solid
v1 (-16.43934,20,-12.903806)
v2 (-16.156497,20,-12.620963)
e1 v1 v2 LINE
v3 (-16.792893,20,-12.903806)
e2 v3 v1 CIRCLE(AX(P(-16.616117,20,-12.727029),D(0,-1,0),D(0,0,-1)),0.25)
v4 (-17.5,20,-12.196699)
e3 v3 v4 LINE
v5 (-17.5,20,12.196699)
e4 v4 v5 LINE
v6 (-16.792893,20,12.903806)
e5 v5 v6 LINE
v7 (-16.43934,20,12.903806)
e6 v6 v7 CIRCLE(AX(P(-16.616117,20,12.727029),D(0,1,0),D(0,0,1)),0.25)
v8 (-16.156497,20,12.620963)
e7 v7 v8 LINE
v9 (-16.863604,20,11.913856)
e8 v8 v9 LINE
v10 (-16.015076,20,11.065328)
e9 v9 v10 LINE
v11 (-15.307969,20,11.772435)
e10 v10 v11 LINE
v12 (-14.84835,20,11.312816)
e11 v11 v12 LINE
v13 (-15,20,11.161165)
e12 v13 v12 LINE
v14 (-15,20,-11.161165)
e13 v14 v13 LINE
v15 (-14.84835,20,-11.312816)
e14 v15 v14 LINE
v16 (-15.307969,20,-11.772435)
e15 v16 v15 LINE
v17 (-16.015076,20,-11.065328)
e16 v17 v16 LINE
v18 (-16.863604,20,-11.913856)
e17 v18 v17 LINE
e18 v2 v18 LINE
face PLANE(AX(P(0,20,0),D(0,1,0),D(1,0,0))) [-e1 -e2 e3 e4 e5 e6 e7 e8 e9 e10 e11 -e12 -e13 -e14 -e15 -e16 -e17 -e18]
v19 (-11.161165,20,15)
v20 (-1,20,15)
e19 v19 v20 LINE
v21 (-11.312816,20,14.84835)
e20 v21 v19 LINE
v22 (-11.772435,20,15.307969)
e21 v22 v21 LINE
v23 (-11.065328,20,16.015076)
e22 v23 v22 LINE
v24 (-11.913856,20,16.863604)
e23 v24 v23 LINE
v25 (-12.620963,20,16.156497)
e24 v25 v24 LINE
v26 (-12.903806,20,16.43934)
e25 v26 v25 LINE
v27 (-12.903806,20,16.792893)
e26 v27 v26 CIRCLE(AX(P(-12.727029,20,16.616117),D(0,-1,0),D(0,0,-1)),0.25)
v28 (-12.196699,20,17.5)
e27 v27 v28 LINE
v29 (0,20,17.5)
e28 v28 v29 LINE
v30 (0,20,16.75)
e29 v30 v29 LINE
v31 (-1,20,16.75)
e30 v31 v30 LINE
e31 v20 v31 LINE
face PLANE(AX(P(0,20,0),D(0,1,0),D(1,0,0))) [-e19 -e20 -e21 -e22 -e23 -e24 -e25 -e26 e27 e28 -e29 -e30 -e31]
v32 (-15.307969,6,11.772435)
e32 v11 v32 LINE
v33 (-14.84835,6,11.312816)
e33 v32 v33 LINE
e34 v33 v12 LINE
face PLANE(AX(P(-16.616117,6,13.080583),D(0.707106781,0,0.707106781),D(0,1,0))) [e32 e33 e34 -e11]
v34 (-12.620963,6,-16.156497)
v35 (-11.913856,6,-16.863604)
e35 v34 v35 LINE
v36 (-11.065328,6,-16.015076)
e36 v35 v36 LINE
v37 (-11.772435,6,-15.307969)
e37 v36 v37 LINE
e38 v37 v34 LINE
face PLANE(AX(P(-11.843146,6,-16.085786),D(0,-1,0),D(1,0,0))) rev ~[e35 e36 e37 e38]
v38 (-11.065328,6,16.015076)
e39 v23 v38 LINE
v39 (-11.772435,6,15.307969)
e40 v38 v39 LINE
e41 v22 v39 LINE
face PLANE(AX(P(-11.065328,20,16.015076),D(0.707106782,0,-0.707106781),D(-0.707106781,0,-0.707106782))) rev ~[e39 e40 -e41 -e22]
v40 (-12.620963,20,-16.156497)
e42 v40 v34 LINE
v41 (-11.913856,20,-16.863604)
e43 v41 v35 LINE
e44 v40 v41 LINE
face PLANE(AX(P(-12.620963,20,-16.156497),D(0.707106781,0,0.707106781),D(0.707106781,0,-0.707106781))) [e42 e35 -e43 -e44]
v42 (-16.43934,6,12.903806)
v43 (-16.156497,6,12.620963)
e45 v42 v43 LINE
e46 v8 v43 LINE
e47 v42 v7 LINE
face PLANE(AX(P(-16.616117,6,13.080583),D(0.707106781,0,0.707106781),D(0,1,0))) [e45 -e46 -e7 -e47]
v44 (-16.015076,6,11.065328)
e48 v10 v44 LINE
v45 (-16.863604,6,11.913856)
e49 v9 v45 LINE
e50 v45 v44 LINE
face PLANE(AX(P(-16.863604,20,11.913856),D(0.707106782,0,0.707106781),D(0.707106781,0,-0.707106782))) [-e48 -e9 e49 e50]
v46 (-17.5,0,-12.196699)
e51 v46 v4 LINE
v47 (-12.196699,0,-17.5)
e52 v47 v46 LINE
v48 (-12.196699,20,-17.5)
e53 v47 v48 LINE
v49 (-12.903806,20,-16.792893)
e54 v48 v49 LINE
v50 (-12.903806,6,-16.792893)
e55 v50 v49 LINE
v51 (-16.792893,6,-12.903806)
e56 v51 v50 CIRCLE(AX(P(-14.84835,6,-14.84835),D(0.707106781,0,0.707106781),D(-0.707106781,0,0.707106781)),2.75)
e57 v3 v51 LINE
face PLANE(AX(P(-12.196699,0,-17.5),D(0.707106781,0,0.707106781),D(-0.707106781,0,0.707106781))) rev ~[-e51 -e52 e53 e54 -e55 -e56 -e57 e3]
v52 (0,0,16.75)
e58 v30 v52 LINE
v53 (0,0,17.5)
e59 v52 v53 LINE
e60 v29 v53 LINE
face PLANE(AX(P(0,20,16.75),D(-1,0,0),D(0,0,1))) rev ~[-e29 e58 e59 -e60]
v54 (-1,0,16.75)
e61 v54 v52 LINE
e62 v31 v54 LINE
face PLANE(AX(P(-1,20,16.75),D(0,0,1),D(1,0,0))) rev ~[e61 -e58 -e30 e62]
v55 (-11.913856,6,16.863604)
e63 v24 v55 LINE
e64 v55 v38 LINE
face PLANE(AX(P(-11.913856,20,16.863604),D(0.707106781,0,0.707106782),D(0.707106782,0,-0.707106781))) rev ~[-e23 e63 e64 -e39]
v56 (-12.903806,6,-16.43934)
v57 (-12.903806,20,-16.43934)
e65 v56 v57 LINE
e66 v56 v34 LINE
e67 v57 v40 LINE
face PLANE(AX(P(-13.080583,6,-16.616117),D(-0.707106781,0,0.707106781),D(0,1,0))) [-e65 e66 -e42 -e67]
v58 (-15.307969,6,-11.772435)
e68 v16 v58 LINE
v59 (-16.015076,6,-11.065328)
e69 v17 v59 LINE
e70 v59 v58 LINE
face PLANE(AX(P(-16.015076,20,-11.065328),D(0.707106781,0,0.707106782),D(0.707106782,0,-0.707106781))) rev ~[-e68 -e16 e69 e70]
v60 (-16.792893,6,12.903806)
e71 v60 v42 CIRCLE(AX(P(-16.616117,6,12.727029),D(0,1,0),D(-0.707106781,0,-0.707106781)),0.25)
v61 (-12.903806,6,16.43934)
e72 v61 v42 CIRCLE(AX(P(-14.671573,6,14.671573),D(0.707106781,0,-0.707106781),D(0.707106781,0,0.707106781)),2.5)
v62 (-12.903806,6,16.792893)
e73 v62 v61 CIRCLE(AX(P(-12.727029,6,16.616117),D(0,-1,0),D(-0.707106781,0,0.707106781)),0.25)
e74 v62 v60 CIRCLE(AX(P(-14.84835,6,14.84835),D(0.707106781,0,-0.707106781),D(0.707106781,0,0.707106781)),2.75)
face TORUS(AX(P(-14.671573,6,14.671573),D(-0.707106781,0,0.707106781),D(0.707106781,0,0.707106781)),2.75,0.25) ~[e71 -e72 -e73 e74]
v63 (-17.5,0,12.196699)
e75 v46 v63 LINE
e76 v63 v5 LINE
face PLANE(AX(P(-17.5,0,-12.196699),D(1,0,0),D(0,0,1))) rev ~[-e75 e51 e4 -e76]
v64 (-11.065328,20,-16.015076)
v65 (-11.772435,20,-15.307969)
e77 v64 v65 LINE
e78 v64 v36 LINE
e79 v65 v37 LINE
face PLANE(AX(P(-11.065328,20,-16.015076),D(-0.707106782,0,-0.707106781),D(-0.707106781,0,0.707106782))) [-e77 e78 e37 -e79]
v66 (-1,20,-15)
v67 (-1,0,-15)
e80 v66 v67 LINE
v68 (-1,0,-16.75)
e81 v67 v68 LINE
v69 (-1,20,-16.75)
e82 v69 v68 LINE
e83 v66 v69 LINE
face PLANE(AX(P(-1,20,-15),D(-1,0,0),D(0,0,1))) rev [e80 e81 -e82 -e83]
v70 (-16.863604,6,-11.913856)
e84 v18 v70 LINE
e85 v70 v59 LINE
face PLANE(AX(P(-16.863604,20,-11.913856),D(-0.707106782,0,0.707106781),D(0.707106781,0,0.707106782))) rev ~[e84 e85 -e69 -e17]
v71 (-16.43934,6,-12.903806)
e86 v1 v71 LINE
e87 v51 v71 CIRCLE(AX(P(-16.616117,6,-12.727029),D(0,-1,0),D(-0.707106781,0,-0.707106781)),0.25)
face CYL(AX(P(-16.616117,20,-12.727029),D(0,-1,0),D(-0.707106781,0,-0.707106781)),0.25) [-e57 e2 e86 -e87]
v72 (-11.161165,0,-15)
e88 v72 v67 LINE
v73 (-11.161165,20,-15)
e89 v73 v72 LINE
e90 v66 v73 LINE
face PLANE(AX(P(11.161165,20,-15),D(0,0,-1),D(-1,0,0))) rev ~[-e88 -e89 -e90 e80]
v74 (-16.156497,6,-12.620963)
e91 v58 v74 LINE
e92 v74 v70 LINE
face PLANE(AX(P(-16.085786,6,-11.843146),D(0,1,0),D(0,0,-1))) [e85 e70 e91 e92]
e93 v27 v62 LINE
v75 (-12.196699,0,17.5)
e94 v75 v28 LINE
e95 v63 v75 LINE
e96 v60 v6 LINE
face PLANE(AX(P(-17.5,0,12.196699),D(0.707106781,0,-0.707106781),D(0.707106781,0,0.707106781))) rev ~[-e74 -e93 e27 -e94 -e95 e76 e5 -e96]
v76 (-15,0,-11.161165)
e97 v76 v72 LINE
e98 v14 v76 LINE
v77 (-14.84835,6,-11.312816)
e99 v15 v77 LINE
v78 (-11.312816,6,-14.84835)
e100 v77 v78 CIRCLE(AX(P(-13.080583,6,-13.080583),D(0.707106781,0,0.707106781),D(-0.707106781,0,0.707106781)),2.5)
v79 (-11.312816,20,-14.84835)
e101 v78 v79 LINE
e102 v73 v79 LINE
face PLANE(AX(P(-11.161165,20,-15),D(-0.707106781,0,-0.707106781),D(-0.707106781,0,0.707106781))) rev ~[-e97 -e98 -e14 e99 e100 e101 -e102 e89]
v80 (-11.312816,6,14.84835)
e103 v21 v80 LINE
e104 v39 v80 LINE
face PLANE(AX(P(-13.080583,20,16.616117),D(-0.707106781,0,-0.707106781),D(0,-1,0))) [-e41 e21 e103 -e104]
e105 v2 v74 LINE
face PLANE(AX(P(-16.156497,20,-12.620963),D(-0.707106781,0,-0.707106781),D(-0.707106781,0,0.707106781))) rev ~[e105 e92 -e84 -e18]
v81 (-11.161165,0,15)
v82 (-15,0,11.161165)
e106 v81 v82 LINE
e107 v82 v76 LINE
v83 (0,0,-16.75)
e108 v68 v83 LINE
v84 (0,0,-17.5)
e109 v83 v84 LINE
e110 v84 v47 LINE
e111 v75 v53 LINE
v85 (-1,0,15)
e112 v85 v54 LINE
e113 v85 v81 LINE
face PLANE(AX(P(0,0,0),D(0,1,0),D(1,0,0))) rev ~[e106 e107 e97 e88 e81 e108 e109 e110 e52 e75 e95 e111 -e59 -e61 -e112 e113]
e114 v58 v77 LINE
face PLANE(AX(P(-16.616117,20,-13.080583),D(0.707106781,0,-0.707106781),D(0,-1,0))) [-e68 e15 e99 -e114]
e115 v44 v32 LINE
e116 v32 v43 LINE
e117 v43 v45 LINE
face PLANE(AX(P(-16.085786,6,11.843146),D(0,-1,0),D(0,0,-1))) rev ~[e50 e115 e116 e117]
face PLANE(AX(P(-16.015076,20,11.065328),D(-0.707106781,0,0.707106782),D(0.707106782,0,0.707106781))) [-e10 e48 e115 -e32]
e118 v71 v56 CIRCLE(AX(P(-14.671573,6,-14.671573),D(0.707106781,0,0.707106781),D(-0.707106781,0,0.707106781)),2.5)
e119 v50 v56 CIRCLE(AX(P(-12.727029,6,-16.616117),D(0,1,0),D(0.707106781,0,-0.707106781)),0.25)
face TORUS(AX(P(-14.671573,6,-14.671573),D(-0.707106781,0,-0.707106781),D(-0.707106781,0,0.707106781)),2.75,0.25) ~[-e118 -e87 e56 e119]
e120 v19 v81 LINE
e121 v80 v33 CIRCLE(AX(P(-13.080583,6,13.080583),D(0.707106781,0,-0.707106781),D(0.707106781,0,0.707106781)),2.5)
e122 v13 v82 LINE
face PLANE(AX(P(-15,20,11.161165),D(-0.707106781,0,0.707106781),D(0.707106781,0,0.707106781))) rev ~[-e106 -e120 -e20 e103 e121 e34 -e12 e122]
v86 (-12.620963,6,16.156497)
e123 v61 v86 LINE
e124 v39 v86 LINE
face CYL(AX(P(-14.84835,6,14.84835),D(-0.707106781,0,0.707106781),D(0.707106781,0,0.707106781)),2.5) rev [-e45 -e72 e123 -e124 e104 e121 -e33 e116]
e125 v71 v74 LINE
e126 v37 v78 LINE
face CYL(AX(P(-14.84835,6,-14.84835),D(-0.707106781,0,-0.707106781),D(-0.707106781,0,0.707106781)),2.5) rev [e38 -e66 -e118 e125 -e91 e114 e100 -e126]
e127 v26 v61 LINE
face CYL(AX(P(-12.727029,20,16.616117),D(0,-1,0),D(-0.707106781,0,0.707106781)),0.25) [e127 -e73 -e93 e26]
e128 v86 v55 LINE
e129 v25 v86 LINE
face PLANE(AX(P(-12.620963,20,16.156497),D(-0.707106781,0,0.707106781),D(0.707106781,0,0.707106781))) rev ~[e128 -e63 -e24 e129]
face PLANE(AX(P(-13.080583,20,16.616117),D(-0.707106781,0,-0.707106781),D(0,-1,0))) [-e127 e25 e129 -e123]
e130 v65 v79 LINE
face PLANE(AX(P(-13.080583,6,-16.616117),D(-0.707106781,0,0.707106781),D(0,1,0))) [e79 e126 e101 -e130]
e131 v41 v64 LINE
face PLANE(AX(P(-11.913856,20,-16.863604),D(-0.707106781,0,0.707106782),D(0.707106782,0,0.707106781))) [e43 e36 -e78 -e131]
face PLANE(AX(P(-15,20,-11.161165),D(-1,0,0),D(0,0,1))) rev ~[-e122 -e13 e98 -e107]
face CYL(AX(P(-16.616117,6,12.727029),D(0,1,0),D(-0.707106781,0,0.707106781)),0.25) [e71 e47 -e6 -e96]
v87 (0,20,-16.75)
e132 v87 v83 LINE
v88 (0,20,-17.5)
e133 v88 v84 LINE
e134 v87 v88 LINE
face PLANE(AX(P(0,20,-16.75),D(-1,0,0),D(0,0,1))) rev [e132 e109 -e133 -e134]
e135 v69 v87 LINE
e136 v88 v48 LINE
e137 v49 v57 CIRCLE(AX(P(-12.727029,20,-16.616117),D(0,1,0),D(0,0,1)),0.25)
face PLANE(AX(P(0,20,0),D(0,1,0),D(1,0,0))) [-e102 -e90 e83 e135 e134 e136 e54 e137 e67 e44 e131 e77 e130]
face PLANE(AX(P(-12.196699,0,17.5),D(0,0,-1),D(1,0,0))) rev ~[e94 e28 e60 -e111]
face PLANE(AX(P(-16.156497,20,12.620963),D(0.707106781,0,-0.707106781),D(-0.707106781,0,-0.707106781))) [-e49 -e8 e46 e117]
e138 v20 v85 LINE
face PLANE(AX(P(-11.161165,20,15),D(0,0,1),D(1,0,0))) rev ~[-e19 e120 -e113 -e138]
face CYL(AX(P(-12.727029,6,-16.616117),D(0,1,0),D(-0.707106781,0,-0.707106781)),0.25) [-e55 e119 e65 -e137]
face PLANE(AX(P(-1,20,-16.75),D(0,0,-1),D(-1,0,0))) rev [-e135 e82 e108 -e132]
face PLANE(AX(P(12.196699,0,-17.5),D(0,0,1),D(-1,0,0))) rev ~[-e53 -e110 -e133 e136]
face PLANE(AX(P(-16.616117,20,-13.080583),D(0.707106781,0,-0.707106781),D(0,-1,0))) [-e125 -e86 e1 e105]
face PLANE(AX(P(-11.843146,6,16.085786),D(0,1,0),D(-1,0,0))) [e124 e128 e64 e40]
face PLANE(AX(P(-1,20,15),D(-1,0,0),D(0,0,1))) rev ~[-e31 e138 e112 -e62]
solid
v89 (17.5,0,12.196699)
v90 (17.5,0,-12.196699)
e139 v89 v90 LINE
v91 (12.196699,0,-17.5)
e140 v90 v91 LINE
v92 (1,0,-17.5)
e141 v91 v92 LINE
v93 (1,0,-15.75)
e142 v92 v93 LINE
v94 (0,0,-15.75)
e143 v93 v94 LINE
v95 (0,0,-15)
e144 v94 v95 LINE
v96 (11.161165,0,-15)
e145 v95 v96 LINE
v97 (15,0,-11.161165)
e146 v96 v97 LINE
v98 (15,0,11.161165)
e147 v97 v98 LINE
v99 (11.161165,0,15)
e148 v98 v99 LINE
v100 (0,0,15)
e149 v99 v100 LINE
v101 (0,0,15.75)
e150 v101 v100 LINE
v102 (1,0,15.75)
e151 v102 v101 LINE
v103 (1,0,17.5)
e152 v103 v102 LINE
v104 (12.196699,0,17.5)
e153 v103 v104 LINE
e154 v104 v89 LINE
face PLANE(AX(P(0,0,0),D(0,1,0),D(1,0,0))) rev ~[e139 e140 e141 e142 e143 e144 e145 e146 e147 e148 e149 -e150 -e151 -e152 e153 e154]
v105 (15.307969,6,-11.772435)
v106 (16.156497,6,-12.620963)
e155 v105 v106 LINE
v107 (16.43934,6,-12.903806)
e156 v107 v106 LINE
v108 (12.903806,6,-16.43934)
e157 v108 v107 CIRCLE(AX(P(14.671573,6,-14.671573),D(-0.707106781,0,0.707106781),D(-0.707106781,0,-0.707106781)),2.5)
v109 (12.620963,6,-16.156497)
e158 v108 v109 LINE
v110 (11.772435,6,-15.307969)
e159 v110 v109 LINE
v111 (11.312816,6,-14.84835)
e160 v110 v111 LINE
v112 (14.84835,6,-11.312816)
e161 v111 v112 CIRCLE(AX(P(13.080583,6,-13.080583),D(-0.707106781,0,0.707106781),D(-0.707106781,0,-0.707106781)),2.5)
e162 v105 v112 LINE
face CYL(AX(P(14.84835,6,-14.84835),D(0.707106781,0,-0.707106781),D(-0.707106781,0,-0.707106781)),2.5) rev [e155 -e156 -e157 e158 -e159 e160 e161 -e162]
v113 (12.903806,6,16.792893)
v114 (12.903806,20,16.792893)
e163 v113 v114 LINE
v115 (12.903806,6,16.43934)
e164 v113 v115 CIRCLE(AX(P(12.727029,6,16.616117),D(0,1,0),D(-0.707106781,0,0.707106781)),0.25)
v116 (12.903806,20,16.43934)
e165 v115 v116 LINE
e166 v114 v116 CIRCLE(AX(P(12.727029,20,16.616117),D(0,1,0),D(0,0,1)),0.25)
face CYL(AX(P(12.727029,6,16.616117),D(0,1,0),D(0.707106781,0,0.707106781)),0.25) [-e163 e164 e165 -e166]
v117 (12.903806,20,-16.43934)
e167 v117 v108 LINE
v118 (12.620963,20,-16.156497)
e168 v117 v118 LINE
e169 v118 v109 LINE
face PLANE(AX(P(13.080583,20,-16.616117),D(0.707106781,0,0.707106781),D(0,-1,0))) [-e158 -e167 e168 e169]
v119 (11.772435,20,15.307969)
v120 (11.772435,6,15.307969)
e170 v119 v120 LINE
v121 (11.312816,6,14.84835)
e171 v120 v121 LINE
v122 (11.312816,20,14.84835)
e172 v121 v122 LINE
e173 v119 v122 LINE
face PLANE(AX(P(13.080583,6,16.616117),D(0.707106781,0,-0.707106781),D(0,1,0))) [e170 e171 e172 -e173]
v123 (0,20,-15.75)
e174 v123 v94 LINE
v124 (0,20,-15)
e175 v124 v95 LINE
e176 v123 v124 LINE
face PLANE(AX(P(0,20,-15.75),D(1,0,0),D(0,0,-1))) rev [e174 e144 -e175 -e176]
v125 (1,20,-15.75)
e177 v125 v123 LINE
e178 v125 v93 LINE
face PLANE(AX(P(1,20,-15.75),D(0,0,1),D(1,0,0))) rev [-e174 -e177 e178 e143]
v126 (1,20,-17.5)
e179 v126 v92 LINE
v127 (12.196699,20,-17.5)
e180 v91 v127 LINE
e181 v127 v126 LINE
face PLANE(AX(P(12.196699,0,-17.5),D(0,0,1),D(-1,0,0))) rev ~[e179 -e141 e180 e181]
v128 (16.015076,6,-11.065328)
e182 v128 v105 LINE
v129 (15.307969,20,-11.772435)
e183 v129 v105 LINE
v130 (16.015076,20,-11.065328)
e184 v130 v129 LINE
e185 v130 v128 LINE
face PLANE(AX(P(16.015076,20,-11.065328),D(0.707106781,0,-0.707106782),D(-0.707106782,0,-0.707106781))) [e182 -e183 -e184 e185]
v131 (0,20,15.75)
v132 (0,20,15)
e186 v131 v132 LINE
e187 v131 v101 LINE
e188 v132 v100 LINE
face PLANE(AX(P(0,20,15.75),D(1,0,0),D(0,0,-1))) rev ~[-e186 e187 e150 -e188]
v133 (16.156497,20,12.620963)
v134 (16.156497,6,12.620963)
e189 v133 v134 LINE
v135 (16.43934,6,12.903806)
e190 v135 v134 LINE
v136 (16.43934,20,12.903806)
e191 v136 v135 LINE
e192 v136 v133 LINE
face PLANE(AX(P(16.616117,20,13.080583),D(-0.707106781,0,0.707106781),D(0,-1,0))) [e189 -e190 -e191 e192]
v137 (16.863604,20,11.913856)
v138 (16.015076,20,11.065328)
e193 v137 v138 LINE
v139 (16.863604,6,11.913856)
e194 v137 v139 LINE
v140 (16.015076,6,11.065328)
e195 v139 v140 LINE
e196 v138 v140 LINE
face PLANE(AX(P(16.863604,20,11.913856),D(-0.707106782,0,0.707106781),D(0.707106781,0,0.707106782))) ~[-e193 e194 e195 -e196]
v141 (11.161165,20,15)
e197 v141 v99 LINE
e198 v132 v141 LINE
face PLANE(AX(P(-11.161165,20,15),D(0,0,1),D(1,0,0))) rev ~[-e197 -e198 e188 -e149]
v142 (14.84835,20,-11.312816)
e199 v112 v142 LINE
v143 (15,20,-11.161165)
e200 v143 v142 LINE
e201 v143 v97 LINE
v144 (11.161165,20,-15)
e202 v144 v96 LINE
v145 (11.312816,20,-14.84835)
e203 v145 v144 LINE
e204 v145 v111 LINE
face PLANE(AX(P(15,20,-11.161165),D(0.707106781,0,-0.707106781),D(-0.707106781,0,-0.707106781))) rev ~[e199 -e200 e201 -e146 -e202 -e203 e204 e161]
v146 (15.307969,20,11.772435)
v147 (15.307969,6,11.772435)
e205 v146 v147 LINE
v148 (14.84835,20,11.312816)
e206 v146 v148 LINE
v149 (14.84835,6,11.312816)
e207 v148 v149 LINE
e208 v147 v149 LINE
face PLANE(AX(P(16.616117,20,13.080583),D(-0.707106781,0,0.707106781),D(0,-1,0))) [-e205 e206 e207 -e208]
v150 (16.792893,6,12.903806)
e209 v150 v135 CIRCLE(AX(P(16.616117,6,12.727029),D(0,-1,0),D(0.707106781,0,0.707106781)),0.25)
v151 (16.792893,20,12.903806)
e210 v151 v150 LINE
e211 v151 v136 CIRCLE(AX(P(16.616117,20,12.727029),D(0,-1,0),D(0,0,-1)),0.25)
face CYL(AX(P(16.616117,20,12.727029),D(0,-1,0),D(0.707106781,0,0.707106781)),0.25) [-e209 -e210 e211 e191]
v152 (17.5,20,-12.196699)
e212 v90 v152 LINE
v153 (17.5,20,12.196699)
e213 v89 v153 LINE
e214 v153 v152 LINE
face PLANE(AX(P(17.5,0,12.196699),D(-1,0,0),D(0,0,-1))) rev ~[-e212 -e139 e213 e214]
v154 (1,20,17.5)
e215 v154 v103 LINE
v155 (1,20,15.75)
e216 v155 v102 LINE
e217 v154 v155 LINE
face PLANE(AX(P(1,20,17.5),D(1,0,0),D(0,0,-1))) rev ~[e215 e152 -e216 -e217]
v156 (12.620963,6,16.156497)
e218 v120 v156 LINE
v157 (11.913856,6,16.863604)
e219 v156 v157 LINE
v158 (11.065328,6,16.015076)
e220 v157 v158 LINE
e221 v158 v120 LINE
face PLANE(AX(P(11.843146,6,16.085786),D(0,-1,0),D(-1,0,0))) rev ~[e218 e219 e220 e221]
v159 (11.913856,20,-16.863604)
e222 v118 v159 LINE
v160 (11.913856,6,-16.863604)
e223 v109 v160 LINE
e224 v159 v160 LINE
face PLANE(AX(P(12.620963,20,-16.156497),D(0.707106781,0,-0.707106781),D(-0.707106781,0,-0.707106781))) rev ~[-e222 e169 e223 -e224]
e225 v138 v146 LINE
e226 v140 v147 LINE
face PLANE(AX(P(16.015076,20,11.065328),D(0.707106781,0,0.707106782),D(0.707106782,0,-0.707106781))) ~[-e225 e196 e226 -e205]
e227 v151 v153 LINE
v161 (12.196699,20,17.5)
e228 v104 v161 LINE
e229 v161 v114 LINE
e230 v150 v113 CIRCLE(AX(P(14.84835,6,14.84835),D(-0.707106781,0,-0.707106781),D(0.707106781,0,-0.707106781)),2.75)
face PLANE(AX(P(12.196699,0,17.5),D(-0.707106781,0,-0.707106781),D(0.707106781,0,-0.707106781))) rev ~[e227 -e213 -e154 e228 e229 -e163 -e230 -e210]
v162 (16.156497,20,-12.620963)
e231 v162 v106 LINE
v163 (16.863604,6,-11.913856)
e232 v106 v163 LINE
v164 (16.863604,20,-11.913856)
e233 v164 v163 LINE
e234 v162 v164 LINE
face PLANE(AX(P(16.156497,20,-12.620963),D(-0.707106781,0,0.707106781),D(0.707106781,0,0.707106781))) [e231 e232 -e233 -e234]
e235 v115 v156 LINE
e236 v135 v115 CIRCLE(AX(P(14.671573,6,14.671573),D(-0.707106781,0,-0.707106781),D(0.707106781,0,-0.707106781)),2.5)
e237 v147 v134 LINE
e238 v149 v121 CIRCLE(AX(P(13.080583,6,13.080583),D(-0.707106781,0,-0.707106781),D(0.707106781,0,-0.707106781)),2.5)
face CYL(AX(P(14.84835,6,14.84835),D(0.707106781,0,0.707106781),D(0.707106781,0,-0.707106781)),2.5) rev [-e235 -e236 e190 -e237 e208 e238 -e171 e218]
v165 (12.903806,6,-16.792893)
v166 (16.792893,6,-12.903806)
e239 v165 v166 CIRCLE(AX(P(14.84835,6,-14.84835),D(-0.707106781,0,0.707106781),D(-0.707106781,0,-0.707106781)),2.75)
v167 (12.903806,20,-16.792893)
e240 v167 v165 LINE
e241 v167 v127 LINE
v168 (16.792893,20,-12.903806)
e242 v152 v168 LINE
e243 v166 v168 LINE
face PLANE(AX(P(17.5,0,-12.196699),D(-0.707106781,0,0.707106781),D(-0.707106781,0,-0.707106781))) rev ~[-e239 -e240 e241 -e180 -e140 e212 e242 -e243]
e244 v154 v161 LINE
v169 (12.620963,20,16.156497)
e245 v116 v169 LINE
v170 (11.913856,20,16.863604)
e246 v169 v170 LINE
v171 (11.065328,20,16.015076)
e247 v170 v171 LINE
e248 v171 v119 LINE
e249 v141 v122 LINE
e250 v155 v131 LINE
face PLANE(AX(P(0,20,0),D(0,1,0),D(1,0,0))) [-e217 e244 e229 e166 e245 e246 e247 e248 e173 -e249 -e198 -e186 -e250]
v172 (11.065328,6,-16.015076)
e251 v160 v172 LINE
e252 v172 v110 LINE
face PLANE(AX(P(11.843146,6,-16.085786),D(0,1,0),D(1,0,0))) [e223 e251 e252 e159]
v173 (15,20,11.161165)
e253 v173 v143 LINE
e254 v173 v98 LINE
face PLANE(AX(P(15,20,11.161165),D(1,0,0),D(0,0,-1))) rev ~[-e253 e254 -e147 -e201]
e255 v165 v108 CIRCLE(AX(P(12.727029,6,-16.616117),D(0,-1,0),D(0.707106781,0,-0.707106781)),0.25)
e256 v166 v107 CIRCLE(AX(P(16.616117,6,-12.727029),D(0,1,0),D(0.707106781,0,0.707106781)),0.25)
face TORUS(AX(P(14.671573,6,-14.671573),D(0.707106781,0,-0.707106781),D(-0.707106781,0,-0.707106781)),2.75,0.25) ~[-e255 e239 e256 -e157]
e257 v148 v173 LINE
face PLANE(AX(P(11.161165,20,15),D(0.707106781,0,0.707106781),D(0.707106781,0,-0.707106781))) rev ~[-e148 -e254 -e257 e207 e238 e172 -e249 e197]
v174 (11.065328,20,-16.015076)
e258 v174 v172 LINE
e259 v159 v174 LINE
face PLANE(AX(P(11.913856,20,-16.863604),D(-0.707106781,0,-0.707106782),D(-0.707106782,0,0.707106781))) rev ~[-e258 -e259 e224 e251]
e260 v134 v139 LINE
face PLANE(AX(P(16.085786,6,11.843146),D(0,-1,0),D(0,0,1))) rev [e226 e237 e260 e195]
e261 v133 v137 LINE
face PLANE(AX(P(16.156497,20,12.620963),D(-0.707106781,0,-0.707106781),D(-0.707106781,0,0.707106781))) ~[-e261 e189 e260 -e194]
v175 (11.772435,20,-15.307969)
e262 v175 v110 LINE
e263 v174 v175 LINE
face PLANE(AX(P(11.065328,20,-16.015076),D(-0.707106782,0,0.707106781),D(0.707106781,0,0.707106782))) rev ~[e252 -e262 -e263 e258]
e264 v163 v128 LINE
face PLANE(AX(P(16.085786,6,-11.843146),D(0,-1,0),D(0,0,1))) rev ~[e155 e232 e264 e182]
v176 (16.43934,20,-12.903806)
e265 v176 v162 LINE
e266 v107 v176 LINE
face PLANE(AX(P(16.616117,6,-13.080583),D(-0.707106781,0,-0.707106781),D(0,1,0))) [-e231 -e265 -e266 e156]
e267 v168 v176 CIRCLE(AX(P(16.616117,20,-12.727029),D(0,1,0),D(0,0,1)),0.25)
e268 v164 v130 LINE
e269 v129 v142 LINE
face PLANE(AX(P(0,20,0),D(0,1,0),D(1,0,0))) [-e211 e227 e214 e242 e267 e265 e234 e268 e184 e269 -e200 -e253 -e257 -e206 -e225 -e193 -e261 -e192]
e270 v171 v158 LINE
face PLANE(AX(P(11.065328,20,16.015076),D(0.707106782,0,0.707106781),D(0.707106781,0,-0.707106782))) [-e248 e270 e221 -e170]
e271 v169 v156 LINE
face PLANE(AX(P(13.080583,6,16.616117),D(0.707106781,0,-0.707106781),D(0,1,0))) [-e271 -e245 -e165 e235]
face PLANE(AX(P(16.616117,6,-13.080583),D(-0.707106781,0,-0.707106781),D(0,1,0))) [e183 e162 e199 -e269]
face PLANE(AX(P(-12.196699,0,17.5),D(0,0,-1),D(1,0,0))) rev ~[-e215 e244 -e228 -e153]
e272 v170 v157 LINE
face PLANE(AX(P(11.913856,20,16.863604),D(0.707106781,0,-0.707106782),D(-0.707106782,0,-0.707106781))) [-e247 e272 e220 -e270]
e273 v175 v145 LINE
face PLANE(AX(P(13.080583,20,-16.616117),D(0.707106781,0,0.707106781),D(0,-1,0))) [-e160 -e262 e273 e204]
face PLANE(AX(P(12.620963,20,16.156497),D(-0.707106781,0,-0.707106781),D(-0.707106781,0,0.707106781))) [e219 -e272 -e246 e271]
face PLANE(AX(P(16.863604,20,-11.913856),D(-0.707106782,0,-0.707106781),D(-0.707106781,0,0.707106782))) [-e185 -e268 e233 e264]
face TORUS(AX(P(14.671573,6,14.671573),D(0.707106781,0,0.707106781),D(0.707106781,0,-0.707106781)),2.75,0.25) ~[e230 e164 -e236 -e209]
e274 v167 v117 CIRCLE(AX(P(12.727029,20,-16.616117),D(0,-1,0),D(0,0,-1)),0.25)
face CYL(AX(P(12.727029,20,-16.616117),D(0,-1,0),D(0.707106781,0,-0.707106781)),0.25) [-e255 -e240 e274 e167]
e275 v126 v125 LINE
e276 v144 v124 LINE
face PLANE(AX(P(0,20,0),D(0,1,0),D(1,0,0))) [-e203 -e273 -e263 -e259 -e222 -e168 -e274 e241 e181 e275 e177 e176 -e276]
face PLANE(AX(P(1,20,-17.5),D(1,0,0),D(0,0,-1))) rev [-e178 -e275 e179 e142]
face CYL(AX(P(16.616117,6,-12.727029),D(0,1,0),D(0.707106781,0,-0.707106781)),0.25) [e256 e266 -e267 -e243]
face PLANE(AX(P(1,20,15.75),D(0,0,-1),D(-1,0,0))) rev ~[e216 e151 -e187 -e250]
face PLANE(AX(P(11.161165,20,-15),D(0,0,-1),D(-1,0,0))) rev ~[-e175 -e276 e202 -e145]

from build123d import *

# Parameters (mm, degrees)
BOSS_EXTRUDE1_DEPTH      = 20
CUT_EXTRUDE1_REACH       = 33.82
CUT_EXTRUDE2_REACH       = 51.928
CIRPATTERN3_COUNT        = 4
CUT_EXTRUDE3_DEPTH       = 14
CIRPATTERN4_COUNT        = 4
CIRPATTERN4_COPY_1_DEPTH = 14
CIRPATTERN4_COPY_2_DEPTH = 14
CIRPATTERN4_COPY_3_DEPTH = 14
FILLET1_R                = 0.25
CUT_EXTRUDE4_DEPTH       = 32.819805153


with BuildPart() as part:
    # Sketch1 → Boss-Extrude1 (new body)
    with BuildSketch(Plane(origin=(0, 0, 0), x_dir=(1, 0, 0), z_dir=(0, 1, 0))):
        Polygon((-12.196699141, 17.5), (-17.5, 12.196699141), (-17.5, -12.196699141), (-12.196699141, -17.5), (12.196699141, -17.5), (17.5, -12.196699141), (17.5, 12.196699141), (12.196699141, 17.5), align=None)
    extrude(amount=BOSS_EXTRUDE1_DEPTH)

    # Sketch2 → Cut-Extrude1 (cut, up to next)
    with BuildSketch(Plane(origin=(0, 20, 0), x_dir=(1, 0, 0), z_dir=(0, 1, 0)), mode=Mode.PRIVATE) as cut_extrude1_sk1:
        Polygon((-11.161165235, 15), (-15, 11.161165235), (-15, -11.161165235), (-11.161165235, -15), (11.161165235, -15), (15, -11.161165235), (15, 11.161165235), (11.161165235, 15), align=None)
    cut_extrude1_tool1 = extrude(cut_extrude1_sk1.sketch, amount=-CUT_EXTRUDE1_REACH, mode=Mode.PRIVATE) & part.part
    add(cut_extrude1_tool1.solids().sort_by_distance((0, 20, 0))[0], mode=Mode.SUBTRACT)

    # Sketch4 → Cut-Extrude2 (cut, up to next)
    with BuildSketch(Plane(origin=(14.848349571, 0, 14.848349571), x_dir=(0.7071067811865472, 0, -0.7071067811865478), z_dir=(0.7071067811865478, 0, 0.7071067811865472)), mode=Mode.PRIVATE) as cut_extrude2_sk1:
        with BuildLine():
            Line((-2.5, 20), (2.5, 20))
            Line((2.5, 20), (2.5, 6))
            ThreePointArc((2.5, 6), (0, 3.5), (-2.5, 6))
            Line((-2.5, 6), (-2.5, 20))
        make_face()
    cut_extrude2_tool1 = extrude(cut_extrude2_sk1.sketch, amount=-CUT_EXTRUDE2_REACH, mode=Mode.PRIVATE) & part.part
    cut_extrude2 = cut_extrude2_tool1.solids().sort_by_distance((14.84835, 12.0085, 14.84835))[0]
    add(cut_extrude2, mode=Mode.SUBTRACT)

    # CirPattern3: Cut-Extrude2 ×4 about axis
    cirpattern3_axis = Axis((0, 0, 0), (0, -1, 0))
    for i in range(1, CIRPATTERN3_COUNT):
        add(cut_extrude2.rotate(cirpattern3_axis, i * 360 / CIRPATTERN3_COUNT), mode=Mode.SUBTRACT)

    # Sketch5 → Cut-Extrude3 (cut)
    with BuildSketch(Plane(origin=(0, 20, 0), x_dir=(1, 0, 0), z_dir=(0, 1, 0))):
        Polygon((11.772435072, -15.307968978), (12.62096321, -16.156497116), (11.913856429, -16.863603897), (11.065328291, -16.01507576), align=None)
    cut_extrude3 = extrude(amount=-CUT_EXTRUDE3_DEPTH, mode=Mode.SUBTRACT)

    # Mirror1: Cut-Extrude3 across plane
    add(cut_extrude3.mirror(Plane(origin=(0, 0, 0), x_dir=(0.7071067811865482, 0, 0.7071067811865468), z_dir=(0.7071067811865468, 0, -0.7071067811865482))), mode=Mode.SUBTRACT)

    # CirPattern4: Cut-Extrude3 ×4 about axis
    cirpattern4_axis = Axis((0, 0, 0), (0, -1, 0))
    for i in range(1, CIRPATTERN4_COUNT):
        add(cut_extrude3.rotate(cirpattern4_axis, i * 360 / CIRPATTERN4_COUNT), mode=Mode.SUBTRACT)

    # CirPattern4 copy 1 sketch → CirPattern4 copy 1 (cut)
    with BuildSketch(Plane(origin=(0, 20, 0), x_dir=(-1, 0, 0), z_dir=(0, 1, 0))):
        Polygon((11.772435072, 15.307968978), (12.62096321, 16.156497116), (11.913856429, 16.863603897), (11.065328291, 16.01507576), align=None)
    extrude(amount=-CIRPATTERN4_COPY_1_DEPTH, mode=Mode.SUBTRACT)

    # CirPattern4 copy 2 sketch → CirPattern4 copy 2 (cut)
    with BuildSketch(Plane(origin=(0, 20, 0), x_dir=(0, 0, -1), z_dir=(0, 1, 0))):
        Polygon((11.772435072, 15.307968978), (12.62096321, 16.156497116), (11.913856429, 16.863603897), (11.065328291, 16.01507576), align=None)
    extrude(amount=-CIRPATTERN4_COPY_2_DEPTH, mode=Mode.SUBTRACT)

    # CirPattern4 copy 3 sketch → CirPattern4 copy 3 (cut)
    with BuildSketch(Plane(origin=(0, 20, 0), x_dir=(1, 0, 0), z_dir=(0, 1, 0))):
        Polygon((11.772435072, 15.307968978), (12.62096321, 16.156497116), (11.913856429, 16.863603897), (11.065328291, 16.01507576), align=None)
    extrude(amount=-CIRPATTERN4_COPY_3_DEPTH, mode=Mode.SUBTRACT)

    # Fillet1
    fillet1_edges = [part.edges().sort_by_distance(p)[0] for p in [
        (16.616116524, 13, 13.080582618),
        (14.848349571, 3.5, 14.848349571),
        (13.080582618, 13, 16.616116524),
        (-13.080582618, 13, -16.616116524),
        (-14.848349571, 3.5, -14.848349571),
        (-16.616116524, 13, -13.080582618),
        (16.616116524, 13, -13.080582618),
        (14.848349571, 3.5, -14.848349571),
        (-13.080582618, 13, 16.616116524),
        (-14.848349571, 3.5, 14.848349571),
        (13.080582618, 13, -16.616116524),
        (-16.616116524, 13, 13.080582618),
    ]]
    fillet(fillet1_edges, radius=FILLET1_R)

    # Sketch6 → Cut-Extrude4 (cut, through all)
    with BuildSketch(Plane(origin=(0, 20, 0), x_dir=(1, 0, 0), z_dir=(0, 1, 0))):
        Polygon((0, -15), (-1, -15), (-1, -16.75), (0, -16.75), (0, -17.5), (1, -17.5), (1, -15.75), (0, -15.75), align=None)
    cut_extrude4 = extrude(amount=-CUT_EXTRUDE4_DEPTH, mode=Mode.SUBTRACT)

    # Mirror2: Cut-Extrude4 across plane
    add(cut_extrude4.mirror(Plane.XY), mode=Mode.SUBTRACT)


solid = part.part
